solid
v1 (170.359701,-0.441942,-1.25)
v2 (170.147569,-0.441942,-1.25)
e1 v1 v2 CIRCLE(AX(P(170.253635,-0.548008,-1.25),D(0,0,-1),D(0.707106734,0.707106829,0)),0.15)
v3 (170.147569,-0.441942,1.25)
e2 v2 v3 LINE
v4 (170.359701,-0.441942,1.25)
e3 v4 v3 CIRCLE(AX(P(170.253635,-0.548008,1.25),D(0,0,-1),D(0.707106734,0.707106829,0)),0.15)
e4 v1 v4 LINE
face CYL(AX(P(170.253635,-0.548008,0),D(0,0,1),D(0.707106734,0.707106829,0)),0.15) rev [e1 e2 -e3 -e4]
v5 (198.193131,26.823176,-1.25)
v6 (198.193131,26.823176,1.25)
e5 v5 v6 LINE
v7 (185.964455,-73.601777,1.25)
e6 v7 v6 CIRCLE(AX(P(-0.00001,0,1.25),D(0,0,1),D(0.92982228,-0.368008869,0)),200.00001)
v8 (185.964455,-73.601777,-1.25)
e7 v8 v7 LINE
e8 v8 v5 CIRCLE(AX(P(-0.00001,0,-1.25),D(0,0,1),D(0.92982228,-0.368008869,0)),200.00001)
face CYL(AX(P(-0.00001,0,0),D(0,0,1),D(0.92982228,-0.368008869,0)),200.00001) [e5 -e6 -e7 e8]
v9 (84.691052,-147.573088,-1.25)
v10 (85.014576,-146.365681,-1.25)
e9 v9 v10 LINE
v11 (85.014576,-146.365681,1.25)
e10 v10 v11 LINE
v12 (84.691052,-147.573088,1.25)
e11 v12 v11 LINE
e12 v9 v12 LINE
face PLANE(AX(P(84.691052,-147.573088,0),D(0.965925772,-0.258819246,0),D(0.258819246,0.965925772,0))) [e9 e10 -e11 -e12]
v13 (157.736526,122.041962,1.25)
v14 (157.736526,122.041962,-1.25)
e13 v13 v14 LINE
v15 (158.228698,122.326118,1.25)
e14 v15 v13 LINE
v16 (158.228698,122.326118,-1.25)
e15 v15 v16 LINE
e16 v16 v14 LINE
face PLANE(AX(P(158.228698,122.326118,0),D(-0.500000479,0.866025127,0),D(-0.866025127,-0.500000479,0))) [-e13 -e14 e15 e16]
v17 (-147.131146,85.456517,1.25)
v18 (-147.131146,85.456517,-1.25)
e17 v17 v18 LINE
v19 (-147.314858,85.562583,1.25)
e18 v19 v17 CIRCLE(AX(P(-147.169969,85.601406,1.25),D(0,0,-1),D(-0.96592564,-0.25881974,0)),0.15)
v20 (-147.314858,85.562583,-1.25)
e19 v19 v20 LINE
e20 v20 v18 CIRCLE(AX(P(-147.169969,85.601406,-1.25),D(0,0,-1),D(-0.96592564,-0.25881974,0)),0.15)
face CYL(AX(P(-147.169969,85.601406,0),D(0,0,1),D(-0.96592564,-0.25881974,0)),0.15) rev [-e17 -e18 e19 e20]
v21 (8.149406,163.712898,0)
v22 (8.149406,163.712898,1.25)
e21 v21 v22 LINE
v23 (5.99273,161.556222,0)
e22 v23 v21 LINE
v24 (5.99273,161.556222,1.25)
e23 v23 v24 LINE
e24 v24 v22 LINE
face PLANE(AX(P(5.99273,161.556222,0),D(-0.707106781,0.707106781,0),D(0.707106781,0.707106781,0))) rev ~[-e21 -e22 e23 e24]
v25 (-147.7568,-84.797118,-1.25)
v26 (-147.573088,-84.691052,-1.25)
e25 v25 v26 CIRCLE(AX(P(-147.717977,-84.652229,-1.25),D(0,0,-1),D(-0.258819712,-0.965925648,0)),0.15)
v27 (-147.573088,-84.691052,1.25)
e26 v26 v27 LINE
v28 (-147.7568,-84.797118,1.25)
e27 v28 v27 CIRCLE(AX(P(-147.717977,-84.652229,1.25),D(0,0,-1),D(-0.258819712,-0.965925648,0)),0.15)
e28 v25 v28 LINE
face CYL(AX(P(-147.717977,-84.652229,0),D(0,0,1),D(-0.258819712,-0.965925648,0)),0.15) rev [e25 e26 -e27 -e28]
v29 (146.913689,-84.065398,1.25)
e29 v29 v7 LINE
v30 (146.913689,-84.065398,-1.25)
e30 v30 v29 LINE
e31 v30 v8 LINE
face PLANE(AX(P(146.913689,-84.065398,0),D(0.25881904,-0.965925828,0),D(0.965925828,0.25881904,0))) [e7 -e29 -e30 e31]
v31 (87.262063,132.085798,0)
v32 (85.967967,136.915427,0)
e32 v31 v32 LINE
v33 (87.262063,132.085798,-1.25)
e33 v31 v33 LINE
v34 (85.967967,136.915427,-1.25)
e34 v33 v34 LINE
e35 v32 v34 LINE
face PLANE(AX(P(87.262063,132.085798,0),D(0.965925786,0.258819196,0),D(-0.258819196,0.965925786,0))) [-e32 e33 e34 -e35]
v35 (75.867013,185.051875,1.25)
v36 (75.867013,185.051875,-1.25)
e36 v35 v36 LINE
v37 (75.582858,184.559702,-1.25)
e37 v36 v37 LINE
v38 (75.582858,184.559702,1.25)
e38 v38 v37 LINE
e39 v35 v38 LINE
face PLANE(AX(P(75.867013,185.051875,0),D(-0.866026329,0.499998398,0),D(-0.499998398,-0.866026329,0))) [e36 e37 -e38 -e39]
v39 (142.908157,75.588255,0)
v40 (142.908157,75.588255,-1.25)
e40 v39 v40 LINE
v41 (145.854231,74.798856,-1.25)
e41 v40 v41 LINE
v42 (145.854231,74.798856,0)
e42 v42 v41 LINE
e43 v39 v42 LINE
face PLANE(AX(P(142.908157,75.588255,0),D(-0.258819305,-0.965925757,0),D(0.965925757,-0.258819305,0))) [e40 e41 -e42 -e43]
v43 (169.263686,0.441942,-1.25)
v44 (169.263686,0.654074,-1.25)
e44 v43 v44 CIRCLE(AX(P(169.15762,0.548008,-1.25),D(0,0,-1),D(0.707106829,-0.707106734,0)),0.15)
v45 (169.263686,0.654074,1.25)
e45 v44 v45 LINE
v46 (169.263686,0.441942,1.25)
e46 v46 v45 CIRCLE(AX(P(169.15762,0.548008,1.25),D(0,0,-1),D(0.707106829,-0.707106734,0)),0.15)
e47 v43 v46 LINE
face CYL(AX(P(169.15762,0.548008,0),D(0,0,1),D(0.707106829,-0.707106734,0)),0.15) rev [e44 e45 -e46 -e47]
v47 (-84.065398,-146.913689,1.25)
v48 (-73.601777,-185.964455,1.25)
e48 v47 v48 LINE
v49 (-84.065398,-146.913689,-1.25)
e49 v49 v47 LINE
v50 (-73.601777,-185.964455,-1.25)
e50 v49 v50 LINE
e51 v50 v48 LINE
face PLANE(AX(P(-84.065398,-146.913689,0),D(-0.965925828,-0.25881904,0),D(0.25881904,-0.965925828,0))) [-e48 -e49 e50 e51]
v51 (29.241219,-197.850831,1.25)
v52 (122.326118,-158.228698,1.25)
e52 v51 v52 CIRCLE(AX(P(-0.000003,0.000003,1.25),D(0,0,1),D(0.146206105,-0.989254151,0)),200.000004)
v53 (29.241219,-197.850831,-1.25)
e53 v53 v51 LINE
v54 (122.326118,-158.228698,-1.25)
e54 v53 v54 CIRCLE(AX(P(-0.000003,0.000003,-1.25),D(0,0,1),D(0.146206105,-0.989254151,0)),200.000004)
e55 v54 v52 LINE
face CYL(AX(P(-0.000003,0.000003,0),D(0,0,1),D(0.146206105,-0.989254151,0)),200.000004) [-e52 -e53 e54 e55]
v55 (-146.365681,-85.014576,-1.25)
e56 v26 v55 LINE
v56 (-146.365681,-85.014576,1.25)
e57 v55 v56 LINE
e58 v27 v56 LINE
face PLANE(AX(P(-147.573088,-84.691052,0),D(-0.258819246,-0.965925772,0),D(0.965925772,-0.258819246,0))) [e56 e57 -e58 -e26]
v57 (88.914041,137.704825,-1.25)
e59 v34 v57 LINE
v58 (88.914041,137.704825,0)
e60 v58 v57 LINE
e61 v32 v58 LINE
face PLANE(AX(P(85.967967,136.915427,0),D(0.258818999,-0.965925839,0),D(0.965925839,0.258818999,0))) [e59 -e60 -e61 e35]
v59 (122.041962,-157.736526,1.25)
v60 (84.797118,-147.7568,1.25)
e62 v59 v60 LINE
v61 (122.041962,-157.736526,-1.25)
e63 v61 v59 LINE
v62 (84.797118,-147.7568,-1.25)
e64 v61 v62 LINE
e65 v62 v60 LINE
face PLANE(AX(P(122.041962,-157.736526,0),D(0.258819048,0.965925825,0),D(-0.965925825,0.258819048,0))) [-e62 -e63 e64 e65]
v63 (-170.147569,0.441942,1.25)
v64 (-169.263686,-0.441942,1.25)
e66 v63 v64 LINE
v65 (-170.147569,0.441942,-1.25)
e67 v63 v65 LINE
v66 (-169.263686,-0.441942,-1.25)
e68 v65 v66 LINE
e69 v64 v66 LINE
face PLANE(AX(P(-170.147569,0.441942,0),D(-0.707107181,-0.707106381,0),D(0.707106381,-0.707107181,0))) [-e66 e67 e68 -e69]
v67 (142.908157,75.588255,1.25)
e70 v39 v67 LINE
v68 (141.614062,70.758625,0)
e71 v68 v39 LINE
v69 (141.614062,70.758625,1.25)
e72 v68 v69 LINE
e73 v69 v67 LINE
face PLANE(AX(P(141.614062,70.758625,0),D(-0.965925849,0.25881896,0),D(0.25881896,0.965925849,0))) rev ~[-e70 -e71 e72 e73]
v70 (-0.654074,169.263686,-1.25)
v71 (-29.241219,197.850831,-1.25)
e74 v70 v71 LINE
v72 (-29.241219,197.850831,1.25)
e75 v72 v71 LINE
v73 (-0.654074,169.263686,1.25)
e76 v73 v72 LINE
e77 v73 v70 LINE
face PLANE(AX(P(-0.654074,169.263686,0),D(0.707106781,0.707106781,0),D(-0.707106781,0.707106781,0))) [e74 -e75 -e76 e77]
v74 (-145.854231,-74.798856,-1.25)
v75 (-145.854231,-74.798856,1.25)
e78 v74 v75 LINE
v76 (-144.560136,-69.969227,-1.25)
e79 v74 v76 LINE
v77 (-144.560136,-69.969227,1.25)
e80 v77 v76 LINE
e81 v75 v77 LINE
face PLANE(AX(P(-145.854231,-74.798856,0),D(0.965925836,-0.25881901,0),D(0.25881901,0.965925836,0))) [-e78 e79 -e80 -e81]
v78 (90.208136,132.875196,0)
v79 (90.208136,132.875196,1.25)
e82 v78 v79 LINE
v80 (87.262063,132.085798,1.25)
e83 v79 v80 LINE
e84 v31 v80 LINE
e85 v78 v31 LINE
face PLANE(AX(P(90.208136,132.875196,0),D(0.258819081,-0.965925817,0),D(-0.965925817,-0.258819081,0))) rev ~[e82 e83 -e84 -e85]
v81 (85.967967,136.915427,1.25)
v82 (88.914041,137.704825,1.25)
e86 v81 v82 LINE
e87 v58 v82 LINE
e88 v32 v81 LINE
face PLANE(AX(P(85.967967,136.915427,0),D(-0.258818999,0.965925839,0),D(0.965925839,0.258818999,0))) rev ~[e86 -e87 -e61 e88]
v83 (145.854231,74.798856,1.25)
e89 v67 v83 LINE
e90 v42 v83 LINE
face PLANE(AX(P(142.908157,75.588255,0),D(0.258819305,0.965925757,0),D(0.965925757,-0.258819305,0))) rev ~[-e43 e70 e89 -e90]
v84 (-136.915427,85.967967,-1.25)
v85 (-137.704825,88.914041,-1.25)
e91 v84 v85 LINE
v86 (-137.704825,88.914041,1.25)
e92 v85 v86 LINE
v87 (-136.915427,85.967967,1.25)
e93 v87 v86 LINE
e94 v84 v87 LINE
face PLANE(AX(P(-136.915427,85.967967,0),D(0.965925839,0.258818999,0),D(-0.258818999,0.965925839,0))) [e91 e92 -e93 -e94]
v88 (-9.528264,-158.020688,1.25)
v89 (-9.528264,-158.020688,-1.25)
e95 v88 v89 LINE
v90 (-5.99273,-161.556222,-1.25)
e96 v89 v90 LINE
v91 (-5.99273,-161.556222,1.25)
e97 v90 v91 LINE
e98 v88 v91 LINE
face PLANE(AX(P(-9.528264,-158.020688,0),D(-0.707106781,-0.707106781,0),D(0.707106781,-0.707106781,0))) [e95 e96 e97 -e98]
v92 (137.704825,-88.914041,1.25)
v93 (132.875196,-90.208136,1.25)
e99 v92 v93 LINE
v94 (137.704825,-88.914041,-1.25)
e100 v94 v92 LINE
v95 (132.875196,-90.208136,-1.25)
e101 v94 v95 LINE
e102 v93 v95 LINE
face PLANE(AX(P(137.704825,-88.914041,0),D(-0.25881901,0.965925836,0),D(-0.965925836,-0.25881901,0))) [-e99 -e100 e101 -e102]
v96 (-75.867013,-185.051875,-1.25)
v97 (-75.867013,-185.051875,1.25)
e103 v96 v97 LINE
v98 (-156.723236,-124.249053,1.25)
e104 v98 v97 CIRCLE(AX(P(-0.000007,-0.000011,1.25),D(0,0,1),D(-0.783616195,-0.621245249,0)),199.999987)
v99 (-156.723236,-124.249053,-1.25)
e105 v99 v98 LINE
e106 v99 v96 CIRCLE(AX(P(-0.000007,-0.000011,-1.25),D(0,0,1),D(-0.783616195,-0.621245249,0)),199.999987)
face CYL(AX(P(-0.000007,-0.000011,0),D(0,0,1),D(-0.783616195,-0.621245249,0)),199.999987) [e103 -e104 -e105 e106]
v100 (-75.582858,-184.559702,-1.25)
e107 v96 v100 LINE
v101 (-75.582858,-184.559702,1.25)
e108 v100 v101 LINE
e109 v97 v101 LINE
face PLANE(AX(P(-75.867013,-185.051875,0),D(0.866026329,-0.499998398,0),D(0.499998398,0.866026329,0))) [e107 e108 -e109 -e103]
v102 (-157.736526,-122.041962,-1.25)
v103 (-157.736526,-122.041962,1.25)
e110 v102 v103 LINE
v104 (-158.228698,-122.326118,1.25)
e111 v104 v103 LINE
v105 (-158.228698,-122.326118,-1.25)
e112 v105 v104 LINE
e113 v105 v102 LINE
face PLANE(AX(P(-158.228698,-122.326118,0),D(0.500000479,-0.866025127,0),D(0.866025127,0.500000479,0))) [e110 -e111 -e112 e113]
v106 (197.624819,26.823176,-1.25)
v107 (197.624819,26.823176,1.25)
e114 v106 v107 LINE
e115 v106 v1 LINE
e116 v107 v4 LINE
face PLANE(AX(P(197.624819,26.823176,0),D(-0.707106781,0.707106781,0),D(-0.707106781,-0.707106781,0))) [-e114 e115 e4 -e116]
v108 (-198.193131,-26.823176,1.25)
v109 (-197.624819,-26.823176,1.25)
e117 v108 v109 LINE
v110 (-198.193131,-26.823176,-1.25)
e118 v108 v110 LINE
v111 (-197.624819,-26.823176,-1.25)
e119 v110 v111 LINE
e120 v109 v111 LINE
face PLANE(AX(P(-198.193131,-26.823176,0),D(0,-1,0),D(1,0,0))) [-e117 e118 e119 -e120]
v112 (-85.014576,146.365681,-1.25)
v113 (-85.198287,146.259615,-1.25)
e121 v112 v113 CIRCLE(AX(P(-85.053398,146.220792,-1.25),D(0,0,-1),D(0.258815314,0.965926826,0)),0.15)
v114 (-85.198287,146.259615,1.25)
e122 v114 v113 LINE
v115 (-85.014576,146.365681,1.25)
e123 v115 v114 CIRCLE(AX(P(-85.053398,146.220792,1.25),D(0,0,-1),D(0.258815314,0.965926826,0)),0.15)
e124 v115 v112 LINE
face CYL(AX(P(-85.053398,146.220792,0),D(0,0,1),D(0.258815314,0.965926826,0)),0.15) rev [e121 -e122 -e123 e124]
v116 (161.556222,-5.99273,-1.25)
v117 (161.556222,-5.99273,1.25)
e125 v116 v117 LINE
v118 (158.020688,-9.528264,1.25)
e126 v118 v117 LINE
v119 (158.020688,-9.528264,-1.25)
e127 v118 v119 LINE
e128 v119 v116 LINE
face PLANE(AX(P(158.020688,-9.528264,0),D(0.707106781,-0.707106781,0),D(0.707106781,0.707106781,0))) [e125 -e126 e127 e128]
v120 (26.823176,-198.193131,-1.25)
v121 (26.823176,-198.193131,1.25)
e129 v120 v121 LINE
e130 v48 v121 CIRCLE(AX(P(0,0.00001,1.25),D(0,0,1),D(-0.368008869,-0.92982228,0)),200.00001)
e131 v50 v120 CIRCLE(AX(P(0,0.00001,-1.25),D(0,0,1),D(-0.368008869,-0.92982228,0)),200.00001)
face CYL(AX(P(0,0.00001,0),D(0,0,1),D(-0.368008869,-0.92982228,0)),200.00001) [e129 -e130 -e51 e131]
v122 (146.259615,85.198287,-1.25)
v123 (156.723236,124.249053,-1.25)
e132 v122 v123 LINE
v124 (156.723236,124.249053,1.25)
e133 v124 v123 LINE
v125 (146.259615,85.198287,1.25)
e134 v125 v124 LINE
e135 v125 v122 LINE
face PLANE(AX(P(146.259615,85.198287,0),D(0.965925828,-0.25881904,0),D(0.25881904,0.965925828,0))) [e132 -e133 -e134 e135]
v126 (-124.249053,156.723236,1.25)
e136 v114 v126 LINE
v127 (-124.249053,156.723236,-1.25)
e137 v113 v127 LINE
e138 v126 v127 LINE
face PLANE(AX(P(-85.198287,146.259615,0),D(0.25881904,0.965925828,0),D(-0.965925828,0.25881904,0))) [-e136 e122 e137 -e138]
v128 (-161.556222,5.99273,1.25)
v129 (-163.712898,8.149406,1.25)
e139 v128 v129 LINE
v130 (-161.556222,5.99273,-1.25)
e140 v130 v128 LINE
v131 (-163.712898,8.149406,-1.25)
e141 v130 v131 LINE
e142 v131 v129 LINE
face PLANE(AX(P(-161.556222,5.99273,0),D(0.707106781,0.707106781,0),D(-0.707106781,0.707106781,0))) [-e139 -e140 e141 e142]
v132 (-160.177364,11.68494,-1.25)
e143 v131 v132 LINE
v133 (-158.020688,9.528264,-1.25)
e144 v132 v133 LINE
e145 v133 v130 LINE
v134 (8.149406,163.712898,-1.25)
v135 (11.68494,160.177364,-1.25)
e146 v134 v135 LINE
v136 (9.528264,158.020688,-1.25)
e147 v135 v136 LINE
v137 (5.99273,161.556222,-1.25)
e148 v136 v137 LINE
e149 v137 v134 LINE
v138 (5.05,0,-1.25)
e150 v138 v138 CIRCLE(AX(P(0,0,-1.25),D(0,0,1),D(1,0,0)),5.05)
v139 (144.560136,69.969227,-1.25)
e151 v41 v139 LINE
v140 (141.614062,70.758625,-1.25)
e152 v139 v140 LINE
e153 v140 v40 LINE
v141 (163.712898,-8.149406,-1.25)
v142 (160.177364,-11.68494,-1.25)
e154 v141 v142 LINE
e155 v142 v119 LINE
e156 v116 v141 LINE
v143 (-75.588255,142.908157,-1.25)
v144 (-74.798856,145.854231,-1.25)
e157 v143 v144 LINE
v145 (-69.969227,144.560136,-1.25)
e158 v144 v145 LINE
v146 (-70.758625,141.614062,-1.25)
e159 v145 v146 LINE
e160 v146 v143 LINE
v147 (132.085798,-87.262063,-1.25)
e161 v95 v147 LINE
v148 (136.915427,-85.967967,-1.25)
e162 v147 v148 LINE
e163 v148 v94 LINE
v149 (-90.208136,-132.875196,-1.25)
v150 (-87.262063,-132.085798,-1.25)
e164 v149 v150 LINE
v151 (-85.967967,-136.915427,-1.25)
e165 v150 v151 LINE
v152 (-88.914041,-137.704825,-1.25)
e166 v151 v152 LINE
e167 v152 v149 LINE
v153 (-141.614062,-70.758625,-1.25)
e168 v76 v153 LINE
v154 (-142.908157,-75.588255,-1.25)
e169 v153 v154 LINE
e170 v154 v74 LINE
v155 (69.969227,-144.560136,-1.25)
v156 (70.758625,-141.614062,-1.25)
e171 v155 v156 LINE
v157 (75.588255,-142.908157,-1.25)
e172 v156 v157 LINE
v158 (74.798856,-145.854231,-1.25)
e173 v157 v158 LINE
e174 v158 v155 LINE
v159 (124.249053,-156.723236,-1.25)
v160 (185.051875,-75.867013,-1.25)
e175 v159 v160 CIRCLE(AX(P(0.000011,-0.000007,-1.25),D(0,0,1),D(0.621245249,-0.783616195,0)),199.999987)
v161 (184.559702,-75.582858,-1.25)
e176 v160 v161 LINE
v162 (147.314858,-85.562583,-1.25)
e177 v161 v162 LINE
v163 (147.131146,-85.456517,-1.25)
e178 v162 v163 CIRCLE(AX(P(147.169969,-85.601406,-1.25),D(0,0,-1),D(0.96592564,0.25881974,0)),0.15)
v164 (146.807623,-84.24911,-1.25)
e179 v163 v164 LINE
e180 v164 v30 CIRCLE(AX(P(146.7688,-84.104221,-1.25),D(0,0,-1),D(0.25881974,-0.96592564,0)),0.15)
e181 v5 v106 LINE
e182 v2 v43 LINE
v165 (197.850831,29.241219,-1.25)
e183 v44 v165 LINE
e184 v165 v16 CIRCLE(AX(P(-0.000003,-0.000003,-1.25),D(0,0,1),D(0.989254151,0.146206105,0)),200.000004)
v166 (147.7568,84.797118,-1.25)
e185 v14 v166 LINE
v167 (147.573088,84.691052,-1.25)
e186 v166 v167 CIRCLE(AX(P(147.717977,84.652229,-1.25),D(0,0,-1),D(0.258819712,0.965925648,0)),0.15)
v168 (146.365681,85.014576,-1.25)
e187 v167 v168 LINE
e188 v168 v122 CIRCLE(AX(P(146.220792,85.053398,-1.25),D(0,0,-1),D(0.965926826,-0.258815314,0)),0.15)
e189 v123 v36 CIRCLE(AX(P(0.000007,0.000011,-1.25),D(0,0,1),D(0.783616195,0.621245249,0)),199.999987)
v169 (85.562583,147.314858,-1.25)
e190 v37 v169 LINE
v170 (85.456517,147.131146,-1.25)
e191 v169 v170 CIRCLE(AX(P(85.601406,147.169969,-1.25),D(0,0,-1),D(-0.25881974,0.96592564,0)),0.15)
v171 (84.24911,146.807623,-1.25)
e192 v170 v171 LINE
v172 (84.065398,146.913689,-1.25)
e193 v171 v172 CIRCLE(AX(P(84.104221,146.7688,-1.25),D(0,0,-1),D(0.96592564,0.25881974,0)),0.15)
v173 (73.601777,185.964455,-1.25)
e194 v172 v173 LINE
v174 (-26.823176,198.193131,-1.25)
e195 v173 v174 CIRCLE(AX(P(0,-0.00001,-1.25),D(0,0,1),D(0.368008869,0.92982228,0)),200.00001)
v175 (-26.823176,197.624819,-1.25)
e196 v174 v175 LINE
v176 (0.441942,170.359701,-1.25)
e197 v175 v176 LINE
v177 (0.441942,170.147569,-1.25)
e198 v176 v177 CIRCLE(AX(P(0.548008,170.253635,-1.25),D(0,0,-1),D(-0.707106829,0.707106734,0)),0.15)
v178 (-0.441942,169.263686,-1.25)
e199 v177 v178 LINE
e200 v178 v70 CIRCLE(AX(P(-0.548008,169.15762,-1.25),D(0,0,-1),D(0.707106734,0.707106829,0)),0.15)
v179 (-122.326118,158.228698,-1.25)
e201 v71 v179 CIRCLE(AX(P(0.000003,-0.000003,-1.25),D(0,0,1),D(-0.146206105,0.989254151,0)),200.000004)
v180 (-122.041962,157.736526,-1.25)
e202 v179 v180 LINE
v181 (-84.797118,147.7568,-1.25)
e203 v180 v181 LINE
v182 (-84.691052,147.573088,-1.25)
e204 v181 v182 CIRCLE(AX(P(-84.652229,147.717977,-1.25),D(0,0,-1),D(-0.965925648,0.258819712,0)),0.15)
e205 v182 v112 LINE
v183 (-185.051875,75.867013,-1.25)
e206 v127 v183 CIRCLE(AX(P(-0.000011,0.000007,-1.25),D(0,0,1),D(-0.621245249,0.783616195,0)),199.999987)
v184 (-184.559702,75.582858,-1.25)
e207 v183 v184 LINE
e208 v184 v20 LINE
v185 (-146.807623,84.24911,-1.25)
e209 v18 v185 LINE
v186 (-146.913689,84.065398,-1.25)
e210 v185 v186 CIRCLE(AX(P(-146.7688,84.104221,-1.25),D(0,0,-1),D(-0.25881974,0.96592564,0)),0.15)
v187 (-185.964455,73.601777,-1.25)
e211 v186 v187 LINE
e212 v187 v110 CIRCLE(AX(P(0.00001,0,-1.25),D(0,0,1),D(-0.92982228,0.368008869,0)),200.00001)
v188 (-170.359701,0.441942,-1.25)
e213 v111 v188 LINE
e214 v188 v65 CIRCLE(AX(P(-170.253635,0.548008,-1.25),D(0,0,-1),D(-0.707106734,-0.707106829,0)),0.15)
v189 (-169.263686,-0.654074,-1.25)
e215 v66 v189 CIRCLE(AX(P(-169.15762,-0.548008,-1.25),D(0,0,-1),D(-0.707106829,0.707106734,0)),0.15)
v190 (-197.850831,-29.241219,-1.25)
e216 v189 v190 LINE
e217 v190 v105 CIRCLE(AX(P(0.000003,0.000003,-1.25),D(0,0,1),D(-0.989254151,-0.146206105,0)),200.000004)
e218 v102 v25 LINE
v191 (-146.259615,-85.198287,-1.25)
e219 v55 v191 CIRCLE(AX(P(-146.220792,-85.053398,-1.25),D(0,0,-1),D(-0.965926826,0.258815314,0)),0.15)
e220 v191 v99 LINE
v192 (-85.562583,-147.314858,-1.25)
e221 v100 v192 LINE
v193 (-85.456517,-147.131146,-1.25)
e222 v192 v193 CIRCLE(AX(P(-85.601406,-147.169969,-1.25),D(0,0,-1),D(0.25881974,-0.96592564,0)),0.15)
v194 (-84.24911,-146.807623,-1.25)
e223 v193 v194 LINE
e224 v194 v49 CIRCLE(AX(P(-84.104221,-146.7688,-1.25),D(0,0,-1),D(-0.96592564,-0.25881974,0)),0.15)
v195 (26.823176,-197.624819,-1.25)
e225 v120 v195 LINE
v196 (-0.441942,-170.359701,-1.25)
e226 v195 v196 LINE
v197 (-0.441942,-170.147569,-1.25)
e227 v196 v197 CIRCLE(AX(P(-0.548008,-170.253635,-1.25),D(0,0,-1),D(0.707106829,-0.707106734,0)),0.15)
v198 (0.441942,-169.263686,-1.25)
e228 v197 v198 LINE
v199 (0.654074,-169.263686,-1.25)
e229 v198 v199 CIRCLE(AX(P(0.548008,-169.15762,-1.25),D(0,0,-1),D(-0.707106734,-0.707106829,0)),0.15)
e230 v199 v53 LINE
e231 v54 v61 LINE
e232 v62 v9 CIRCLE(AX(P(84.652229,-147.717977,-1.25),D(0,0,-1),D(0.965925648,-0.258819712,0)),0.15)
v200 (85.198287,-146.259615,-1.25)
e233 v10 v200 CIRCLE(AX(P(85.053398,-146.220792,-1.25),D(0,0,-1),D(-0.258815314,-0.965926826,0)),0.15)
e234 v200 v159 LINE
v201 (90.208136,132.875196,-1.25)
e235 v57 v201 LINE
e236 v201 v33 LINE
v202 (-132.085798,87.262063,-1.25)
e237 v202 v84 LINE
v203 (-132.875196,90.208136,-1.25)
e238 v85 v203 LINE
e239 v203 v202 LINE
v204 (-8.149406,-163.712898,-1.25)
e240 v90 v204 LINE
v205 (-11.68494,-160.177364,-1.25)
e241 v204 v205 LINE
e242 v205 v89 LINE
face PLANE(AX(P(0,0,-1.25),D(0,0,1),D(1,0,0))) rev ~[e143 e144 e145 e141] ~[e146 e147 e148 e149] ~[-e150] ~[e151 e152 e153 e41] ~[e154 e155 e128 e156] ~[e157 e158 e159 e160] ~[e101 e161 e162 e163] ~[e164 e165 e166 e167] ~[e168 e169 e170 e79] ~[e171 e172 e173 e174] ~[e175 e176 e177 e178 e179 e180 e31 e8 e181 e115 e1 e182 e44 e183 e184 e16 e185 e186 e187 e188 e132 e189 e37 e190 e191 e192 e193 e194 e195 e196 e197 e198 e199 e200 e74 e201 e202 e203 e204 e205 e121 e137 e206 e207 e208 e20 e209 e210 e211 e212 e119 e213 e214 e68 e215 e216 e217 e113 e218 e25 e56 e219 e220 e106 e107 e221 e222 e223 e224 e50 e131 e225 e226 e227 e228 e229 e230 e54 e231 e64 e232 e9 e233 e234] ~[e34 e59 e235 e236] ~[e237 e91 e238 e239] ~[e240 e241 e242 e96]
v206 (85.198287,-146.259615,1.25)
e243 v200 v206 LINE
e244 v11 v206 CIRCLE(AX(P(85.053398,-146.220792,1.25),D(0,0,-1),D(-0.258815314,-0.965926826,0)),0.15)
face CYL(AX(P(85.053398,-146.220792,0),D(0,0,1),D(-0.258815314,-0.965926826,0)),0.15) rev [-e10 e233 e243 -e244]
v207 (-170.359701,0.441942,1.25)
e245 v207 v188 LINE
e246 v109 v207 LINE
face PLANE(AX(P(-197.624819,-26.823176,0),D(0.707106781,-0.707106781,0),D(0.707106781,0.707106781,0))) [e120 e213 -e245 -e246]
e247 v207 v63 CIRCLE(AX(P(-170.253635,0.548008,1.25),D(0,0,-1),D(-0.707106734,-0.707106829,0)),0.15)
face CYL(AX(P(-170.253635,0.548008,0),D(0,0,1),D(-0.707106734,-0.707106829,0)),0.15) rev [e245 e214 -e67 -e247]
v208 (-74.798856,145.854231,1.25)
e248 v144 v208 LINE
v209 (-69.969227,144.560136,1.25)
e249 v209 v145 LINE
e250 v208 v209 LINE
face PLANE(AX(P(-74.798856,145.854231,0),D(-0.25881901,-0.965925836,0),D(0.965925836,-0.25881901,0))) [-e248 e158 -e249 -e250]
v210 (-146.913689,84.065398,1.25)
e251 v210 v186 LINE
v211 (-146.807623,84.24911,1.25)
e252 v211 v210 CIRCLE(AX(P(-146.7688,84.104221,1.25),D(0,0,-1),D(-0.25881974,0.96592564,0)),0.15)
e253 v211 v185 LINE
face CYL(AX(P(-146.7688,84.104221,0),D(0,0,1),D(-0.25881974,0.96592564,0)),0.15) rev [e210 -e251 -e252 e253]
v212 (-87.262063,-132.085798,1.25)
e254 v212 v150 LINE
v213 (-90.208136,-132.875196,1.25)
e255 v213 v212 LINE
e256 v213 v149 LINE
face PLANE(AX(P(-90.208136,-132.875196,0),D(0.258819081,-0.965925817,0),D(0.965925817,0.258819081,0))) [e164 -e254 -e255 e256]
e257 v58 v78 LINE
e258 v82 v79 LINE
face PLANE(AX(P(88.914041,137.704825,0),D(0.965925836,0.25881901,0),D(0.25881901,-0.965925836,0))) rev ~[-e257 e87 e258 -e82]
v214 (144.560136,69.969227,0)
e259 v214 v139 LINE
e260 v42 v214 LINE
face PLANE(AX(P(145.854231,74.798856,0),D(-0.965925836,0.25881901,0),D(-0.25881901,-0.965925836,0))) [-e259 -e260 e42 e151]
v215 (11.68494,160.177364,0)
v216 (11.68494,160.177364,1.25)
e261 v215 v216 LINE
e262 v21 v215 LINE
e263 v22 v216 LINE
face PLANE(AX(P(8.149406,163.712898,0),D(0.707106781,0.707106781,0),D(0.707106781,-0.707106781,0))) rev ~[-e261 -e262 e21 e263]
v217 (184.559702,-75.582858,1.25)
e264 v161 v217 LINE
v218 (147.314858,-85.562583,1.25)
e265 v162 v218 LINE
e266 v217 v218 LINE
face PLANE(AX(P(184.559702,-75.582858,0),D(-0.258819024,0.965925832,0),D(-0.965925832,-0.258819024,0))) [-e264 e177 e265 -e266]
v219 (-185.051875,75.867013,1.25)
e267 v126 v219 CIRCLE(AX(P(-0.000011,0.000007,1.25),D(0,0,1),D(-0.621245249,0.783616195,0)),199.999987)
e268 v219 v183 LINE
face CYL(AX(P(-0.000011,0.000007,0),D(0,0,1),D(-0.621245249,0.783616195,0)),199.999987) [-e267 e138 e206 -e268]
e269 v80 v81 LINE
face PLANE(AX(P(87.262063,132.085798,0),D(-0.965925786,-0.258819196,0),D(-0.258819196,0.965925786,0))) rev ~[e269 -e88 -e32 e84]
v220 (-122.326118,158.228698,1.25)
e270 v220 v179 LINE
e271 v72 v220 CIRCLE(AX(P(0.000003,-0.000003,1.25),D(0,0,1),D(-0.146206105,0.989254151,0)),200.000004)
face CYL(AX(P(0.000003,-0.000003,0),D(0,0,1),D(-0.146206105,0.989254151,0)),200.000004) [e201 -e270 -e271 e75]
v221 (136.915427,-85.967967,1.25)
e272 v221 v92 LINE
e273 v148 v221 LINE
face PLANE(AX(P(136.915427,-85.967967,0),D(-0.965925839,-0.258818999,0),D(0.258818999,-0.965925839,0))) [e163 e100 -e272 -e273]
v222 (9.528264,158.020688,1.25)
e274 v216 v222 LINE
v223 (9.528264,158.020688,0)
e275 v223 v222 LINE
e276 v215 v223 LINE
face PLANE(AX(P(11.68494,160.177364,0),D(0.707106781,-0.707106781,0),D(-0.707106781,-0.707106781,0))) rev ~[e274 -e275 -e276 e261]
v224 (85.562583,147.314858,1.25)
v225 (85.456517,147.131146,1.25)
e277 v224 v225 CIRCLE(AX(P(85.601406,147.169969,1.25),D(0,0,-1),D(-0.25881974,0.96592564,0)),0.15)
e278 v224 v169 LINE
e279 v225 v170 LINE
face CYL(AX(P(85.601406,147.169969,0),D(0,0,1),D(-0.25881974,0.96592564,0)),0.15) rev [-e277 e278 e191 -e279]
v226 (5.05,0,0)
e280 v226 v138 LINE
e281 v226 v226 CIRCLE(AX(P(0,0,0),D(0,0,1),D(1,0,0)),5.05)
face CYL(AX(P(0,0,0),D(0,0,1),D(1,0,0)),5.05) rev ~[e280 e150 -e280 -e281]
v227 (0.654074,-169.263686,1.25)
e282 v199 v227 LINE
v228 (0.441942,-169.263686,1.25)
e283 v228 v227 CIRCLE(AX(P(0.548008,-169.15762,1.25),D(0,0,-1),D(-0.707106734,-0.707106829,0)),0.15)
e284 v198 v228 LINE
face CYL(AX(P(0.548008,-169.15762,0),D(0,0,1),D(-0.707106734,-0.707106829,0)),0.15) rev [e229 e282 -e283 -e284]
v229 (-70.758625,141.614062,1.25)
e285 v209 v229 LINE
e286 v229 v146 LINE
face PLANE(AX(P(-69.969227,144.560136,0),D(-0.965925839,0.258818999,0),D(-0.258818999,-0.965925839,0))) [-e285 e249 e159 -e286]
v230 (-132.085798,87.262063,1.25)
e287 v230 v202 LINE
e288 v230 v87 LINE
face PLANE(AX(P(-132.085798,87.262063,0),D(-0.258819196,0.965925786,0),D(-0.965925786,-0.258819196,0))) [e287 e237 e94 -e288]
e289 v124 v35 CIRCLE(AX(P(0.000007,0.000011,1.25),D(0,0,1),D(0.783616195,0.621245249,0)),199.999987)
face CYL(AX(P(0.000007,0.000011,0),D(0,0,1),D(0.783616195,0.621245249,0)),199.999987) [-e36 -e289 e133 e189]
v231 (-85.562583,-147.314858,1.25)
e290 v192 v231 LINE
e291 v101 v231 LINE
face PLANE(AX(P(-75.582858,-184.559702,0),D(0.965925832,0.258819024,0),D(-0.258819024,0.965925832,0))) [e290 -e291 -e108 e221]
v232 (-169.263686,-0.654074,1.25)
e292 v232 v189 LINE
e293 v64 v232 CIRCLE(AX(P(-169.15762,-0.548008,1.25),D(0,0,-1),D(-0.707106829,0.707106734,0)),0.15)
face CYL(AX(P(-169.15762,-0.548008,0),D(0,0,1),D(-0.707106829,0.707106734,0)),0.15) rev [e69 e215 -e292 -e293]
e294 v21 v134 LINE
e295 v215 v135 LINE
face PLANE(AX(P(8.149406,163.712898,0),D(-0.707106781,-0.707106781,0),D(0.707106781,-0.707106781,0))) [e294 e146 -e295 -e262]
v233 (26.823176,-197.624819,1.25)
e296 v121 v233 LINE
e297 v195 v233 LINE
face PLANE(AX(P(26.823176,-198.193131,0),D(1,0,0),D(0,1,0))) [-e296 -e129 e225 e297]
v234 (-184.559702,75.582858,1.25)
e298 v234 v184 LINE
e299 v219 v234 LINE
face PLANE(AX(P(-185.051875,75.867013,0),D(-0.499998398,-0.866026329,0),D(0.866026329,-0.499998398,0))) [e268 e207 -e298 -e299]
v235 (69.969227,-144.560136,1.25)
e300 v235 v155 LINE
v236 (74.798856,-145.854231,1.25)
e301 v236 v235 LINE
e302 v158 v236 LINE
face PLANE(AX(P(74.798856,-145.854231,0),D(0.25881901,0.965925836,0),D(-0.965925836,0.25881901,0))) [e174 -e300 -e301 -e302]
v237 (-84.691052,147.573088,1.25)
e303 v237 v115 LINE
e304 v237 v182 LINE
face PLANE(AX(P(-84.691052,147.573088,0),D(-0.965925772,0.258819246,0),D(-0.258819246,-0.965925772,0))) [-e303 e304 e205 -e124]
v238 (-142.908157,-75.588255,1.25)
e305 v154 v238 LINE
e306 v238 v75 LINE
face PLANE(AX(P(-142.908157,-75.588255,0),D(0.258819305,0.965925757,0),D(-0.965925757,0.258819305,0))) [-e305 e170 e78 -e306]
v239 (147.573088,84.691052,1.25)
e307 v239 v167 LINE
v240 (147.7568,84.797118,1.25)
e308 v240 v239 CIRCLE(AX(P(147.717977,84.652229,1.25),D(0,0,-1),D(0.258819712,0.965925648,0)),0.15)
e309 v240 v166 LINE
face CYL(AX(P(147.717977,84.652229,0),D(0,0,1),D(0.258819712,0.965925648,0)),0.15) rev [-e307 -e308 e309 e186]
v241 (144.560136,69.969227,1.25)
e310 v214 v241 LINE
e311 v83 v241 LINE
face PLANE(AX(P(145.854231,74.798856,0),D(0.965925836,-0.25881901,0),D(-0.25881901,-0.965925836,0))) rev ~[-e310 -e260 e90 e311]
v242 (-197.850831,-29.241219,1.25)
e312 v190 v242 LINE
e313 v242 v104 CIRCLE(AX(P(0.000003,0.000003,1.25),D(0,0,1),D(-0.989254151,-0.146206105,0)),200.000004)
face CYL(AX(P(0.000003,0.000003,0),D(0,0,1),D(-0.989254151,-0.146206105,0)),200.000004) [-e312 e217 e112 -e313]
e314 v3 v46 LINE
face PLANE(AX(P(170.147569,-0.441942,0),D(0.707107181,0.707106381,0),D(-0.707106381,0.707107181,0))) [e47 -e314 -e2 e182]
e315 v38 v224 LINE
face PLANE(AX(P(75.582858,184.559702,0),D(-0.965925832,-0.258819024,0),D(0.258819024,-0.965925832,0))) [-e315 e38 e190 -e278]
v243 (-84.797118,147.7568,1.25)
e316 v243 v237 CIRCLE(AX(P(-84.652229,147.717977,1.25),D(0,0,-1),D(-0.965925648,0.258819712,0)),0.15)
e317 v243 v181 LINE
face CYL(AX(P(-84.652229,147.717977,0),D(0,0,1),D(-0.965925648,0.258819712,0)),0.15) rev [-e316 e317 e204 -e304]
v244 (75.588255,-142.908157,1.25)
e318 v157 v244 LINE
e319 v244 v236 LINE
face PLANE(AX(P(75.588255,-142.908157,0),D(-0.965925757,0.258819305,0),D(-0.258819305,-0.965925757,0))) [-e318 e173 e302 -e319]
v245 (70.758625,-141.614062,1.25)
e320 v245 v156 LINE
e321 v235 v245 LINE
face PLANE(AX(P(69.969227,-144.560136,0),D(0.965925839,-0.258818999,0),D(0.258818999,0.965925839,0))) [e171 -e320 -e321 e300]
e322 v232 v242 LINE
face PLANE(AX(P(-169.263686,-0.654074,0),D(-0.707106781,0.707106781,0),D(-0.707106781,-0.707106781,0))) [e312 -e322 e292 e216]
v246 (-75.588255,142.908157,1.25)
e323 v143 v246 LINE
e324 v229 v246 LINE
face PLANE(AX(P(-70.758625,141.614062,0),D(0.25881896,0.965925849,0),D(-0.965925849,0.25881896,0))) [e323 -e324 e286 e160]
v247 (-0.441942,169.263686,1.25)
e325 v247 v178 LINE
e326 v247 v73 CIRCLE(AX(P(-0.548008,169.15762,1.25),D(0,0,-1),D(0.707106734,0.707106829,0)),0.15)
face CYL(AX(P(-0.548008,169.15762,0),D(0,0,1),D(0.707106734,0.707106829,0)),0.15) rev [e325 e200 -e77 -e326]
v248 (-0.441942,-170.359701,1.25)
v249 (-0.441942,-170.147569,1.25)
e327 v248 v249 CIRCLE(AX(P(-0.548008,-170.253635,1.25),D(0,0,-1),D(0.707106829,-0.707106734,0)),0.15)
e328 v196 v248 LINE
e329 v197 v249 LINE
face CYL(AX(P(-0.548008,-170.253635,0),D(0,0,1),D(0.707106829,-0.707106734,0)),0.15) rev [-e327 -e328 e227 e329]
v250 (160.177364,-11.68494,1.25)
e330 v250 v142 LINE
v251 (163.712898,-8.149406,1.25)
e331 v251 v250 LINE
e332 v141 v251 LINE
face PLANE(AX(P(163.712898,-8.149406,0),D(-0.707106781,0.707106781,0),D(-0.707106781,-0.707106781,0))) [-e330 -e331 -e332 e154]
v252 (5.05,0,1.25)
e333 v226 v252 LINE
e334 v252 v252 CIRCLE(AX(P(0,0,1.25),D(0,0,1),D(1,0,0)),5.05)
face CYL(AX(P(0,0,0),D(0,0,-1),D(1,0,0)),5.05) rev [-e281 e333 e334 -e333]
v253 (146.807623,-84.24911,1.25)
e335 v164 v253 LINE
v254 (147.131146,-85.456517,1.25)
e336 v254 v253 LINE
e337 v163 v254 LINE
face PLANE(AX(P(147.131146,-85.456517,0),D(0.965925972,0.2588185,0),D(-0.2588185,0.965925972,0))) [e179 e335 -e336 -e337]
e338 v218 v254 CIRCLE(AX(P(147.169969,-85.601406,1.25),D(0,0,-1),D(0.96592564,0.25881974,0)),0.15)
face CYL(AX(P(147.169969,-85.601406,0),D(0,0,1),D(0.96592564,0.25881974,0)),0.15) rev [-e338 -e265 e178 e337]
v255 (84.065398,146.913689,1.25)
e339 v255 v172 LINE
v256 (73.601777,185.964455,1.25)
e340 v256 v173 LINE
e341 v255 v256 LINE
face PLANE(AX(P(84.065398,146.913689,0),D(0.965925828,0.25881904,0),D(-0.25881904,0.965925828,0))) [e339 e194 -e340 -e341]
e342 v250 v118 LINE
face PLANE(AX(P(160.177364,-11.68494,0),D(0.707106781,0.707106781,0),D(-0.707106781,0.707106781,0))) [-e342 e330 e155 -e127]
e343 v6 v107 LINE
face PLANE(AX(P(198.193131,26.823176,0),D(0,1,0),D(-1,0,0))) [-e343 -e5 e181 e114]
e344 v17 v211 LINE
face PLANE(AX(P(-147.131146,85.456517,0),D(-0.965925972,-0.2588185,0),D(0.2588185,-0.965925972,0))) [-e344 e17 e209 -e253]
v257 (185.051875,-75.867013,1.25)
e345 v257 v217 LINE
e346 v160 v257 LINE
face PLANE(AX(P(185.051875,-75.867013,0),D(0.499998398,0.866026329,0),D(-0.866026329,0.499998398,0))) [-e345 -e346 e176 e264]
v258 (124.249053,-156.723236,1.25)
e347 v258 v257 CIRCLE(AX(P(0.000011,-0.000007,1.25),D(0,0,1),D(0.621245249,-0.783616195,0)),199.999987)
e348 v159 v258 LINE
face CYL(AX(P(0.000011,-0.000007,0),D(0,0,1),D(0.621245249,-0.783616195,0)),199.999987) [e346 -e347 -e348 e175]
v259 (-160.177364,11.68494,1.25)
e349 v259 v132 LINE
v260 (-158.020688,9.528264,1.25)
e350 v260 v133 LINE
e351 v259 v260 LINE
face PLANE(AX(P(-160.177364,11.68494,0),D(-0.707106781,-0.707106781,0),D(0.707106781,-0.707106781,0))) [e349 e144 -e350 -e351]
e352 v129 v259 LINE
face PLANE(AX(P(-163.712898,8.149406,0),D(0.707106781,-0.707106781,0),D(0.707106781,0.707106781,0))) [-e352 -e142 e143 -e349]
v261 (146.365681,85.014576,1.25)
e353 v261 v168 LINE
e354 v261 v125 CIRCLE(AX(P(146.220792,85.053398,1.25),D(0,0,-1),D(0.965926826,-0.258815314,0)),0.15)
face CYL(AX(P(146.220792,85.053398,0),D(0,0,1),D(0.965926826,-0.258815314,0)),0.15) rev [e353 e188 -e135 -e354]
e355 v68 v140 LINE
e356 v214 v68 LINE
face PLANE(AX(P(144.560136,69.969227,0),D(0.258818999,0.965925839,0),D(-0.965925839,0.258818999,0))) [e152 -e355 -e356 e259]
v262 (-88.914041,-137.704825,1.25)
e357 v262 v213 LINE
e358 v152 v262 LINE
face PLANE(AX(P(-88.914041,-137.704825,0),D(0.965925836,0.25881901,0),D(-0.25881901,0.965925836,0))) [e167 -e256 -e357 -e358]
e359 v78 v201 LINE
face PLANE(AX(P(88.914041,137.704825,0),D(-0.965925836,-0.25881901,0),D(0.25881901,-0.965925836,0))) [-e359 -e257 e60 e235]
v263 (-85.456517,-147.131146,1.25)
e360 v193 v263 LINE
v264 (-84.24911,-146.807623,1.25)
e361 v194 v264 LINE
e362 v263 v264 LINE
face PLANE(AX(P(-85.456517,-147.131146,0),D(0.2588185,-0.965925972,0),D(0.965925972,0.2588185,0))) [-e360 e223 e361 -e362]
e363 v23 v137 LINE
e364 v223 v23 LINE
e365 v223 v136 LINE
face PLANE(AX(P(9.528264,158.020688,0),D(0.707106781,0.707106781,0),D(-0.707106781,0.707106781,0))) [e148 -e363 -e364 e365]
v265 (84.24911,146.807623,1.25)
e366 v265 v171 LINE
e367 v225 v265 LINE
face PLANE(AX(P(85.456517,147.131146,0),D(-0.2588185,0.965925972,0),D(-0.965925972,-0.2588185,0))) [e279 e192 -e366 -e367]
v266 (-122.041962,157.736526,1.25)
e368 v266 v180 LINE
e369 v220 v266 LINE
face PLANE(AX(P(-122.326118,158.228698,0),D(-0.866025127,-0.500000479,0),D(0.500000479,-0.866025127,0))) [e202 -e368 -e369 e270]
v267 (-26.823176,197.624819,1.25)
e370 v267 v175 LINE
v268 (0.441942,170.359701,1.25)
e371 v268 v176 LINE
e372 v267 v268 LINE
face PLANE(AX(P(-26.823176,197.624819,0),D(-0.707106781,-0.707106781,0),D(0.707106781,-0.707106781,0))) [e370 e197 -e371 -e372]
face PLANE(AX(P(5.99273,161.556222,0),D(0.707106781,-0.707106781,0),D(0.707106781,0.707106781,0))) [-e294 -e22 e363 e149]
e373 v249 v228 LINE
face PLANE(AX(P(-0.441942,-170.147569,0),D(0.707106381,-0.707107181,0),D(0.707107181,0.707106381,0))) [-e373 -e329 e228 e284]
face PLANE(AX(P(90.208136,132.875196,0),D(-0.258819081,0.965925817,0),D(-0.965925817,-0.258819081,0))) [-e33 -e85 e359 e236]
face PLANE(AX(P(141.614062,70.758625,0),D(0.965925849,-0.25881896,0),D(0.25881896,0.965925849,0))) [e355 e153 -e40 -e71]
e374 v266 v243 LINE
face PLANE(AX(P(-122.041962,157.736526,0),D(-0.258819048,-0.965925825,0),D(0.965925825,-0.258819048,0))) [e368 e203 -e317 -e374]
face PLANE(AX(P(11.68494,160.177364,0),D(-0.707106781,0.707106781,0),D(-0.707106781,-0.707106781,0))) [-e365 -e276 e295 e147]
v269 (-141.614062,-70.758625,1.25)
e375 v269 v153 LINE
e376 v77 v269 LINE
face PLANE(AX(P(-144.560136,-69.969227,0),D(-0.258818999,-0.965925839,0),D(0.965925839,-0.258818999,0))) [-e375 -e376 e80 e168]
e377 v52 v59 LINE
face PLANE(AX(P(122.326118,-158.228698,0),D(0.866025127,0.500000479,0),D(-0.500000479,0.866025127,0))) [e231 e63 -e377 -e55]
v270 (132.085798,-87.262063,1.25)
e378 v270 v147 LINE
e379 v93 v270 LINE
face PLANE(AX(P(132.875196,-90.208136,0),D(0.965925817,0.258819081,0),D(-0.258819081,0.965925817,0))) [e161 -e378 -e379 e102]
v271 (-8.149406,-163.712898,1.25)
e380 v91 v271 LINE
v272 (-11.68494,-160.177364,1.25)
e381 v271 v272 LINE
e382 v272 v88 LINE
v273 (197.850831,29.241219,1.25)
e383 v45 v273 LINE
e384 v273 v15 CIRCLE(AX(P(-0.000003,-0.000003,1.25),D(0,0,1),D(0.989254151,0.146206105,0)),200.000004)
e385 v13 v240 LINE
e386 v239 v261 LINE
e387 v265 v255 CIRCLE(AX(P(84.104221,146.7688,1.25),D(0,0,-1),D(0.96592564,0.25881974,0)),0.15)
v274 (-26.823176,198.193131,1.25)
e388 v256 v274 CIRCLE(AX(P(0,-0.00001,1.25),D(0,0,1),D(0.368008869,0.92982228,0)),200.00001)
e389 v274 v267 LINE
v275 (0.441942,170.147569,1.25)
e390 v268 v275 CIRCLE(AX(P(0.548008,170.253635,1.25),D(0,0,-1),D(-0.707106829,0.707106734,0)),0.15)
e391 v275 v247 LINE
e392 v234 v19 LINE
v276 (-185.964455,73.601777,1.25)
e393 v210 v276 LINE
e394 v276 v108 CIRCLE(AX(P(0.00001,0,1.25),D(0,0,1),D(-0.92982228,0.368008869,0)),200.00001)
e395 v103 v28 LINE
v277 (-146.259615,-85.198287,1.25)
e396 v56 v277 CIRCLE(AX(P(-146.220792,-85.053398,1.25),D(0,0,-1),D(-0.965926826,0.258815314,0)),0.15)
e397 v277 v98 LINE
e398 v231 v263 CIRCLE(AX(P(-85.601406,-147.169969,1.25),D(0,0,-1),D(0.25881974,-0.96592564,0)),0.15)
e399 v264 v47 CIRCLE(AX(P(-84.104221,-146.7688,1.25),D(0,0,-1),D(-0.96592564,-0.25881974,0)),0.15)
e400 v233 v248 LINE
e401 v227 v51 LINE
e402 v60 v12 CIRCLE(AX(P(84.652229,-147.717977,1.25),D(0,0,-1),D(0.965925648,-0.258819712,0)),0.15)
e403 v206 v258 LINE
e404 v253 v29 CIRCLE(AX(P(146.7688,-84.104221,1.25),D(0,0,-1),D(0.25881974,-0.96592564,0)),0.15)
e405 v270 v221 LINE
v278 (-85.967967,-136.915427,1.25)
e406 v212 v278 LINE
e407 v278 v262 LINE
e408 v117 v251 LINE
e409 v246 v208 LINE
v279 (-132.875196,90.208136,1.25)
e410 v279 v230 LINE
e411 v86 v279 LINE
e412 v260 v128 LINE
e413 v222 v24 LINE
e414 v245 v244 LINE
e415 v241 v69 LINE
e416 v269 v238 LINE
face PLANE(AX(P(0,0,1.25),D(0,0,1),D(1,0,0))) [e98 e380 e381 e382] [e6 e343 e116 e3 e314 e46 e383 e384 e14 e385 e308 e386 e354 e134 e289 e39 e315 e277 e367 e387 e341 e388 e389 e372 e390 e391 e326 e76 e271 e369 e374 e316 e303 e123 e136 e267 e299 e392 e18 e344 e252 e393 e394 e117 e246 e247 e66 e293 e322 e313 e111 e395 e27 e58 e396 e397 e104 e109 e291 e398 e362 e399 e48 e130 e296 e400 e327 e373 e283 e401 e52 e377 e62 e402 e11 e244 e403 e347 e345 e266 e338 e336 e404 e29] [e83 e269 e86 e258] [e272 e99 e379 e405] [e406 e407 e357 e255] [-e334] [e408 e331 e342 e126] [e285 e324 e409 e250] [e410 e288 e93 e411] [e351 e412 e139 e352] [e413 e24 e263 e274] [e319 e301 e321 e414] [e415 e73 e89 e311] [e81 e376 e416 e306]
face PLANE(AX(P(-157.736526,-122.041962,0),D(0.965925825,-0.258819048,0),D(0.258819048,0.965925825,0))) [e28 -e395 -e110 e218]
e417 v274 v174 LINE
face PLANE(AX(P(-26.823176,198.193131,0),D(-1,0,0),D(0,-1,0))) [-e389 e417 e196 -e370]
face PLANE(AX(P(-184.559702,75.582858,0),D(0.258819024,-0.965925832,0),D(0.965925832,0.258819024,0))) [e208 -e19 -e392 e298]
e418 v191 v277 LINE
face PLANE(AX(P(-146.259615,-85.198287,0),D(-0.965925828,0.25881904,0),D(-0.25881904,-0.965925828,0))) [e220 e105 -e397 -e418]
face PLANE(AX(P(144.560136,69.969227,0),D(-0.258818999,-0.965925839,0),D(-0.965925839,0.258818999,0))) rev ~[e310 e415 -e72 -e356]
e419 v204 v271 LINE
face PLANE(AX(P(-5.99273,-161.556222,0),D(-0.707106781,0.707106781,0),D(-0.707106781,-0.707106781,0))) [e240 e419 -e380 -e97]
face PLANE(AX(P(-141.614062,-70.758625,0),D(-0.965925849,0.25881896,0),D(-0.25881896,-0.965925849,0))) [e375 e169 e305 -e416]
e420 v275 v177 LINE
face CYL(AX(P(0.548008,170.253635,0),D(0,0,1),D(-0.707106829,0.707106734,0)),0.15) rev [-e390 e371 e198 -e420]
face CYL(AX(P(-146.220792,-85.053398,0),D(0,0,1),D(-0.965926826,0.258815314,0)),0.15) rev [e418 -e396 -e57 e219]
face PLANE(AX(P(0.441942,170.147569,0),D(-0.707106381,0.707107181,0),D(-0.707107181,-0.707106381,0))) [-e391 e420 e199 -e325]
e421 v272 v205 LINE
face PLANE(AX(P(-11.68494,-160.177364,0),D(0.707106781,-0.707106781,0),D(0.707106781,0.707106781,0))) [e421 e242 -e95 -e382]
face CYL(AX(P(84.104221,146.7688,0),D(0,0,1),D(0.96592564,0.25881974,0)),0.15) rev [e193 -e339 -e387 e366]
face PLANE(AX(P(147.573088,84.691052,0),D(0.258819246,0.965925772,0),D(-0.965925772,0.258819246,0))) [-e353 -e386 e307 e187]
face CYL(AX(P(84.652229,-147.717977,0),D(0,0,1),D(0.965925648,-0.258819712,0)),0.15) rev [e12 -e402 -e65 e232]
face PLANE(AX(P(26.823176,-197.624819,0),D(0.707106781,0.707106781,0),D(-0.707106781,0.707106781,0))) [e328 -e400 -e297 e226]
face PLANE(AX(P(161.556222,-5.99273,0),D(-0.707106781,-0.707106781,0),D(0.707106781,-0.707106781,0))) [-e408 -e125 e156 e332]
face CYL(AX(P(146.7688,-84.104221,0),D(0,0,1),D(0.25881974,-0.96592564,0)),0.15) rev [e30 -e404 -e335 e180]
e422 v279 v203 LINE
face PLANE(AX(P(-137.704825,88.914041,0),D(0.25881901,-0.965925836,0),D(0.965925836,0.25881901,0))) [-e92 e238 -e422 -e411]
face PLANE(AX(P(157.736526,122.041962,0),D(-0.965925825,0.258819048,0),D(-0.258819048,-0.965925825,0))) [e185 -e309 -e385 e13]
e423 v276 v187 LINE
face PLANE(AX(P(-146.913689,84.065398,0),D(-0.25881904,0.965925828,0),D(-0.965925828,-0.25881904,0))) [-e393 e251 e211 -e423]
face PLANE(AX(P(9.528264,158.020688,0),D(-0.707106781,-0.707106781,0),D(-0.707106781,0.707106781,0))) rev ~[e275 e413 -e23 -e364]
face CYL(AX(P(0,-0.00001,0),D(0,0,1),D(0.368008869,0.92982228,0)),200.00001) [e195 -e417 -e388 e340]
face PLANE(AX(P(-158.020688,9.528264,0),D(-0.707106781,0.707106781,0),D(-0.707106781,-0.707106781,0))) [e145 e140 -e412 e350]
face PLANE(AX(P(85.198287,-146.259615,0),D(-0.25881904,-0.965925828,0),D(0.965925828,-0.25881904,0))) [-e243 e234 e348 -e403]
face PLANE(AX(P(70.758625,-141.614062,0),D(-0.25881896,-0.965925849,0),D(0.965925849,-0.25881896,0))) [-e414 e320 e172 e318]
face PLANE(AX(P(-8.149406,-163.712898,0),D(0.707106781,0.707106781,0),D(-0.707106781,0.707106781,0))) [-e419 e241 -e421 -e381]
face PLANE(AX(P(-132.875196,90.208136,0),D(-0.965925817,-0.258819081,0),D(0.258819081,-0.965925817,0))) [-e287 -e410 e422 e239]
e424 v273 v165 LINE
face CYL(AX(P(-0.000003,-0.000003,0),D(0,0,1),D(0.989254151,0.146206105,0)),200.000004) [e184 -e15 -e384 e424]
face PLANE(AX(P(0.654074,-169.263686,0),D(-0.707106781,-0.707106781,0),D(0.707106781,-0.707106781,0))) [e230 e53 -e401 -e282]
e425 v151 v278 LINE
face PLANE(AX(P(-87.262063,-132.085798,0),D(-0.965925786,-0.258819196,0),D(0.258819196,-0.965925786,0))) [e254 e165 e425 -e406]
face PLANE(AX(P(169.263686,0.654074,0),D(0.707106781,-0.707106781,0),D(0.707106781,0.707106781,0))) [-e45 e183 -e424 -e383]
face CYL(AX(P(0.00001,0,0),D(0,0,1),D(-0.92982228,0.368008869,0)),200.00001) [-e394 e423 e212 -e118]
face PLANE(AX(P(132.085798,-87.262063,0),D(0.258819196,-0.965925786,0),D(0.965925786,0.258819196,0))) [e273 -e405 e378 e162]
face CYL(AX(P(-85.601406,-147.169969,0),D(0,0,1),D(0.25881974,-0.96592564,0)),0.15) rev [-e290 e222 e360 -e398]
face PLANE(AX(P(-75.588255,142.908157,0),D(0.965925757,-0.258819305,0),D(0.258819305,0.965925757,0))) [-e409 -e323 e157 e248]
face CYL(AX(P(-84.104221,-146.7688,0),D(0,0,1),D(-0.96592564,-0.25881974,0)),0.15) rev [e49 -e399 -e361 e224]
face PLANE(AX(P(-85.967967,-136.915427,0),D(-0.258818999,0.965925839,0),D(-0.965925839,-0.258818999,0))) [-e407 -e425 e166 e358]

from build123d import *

# Parameters (mm, degrees)
F0_R          = 5.05
F1_DEPTH      = 1.25
F1_DEPTH_BACK = 1.25


with BuildPart() as f1:
    # F0 (on Top) → F1 (new body, two sides)
    with BuildSketch(Plane.XY) as f1_sk:
        with BuildLine():
            Line((-169.263686, -0.654074), (-197.850831, -29.241219))
            ThreePointArc((-197.850831, -29.241219), (-184.022709, -78.330343), (-158.228698, -122.326118))
            Line((-158.228698, -122.326118), (-157.736526, -122.041962))
            Line((-157.736526, -122.041962), (-147.7568, -84.797118))
            ThreePointArc((-147.7568, -84.797118), (-147.792977, -84.522325), (-147.573088, -84.691052))
            Line((-147.573088, -84.691052), (-146.365681, -85.014576))
            ThreePointArc((-146.365681, -85.014576), (-146.090888, -84.978399), (-146.259615, -85.198287))
            Line((-146.259615, -85.198287), (-156.723236, -124.249053))
            ThreePointArc((-156.723236, -124.249053), (-120.203169, -159.847422), (-75.867013, -185.051875))
            Line((-75.867013, -185.051875), (-75.582858, -184.559702))
            Line((-75.582858, -184.559702), (-85.562583, -147.314858))
            ThreePointArc((-85.562583, -147.314858), (-85.73131, -147.094969), (-85.456517, -147.131146))
            Line((-85.456517, -147.131146), (-84.24911, -146.807623))
            ThreePointArc((-84.24911, -146.807623), (-84.029221, -146.638896), (-84.065398, -146.913689))
            Line((-84.065398, -146.913689), (-73.601777, -185.964455))
            ThreePointArc((-73.601777, -185.964455), (-24.175287, -198.533512), (26.823176, -198.193131))
            Line((26.823176, -198.193131), (26.823176, -197.624819))
            Line((26.823176, -197.624819), (-0.441942, -170.359701))
            ThreePointArc((-0.441942, -170.359701), (-0.698008, -170.253635), (-0.441942, -170.147569))
            Line((-0.441942, -170.147569), (0.441942, -169.263686))
            ThreePointArc((0.441942, -169.263686), (0.548008, -169.00762), (0.654074, -169.263686))
            Line((0.654074, -169.263686), (29.241219, -197.850831))
            ThreePointArc((29.241219, -197.850831), (78.330343, -184.022709), (122.326118, -158.228698))
            Line((122.326118, -158.228698), (122.041962, -157.736526))
            Line((122.041962, -157.736526), (84.797118, -147.7568))
            ThreePointArc((84.797118, -147.7568), (84.522325, -147.792977), (84.691052, -147.573088))
            Line((84.691052, -147.573088), (85.014576, -146.365681))
            ThreePointArc((85.014576, -146.365681), (84.978399, -146.090888), (85.198287, -146.259615))
            Line((85.198287, -146.259615), (124.249053, -156.723236))
            ThreePointArc((124.249053, -156.723236), (159.847422, -120.203169), (185.051875, -75.867013))
            Line((185.051875, -75.867013), (184.559702, -75.582858))
            Line((184.559702, -75.582858), (147.314858, -85.562583))
            ThreePointArc((147.314858, -85.562583), (147.094969, -85.73131), (147.131146, -85.456517))
            Line((147.131146, -85.456517), (146.807623, -84.24911))
            ThreePointArc((146.807623, -84.24911), (146.638896, -84.029221), (146.913689, -84.065398))
            Line((146.913689, -84.065398), (185.964455, -73.601777))
            ThreePointArc((185.964455, -73.601777), (198.533512, -24.175287), (198.193131, 26.823176))
            Line((198.193131, 26.823176), (197.624819, 26.823176))
            Line((197.624819, 26.823176), (170.359701, -0.441942))
            ThreePointArc((170.359701, -0.441942), (170.253635, -0.698008), (170.147569, -0.441942))
            Line((170.147569, -0.441942), (169.263686, 0.441942))
            ThreePointArc((169.263686, 0.441942), (169.00762, 0.548008), (169.263686, 0.654074))
            Line((169.263686, 0.654074), (197.850831, 29.241219))
            ThreePointArc((197.850831, 29.241219), (184.022709, 78.330343), (158.228698, 122.326118))
            Line((158.228698, 122.326118), (157.736526, 122.041962))
            Line((157.736526, 122.041962), (147.7568, 84.797118))
            ThreePointArc((147.7568, 84.797118), (147.792977, 84.522325), (147.573088, 84.691052))
            Line((147.573088, 84.691052), (146.365681, 85.014576))
            ThreePointArc((146.365681, 85.014576), (146.090888, 84.978399), (146.259615, 85.198287))
            Line((146.259615, 85.198287), (156.723236, 124.249053))
            ThreePointArc((156.723236, 124.249053), (120.203169, 159.847422), (75.867013, 185.051875))
            Line((75.867013, 185.051875), (75.582858, 184.559702))
            Line((75.582858, 184.559702), (85.562583, 147.314858))
            ThreePointArc((85.562583, 147.314858), (85.73131, 147.094969), (85.456517, 147.131146))
            Line((85.456517, 147.131146), (84.24911, 146.807623))
            ThreePointArc((84.24911, 146.807623), (84.029221, 146.638896), (84.065398, 146.913689))
            Line((84.065398, 146.913689), (73.601777, 185.964455))
            ThreePointArc((73.601777, 185.964455), (24.175287, 198.533512), (-26.823176, 198.193131))
            Line((-26.823176, 198.193131), (-26.823176, 197.624819))
            Line((-26.823176, 197.624819), (0.441942, 170.359701))
            ThreePointArc((0.441942, 170.359701), (0.698008, 170.253635), (0.441942, 170.147569))
            Line((0.441942, 170.147569), (-0.441942, 169.263686))
            ThreePointArc((-0.441942, 169.263686), (-0.548008, 169.00762), (-0.654074, 169.263686))
            Line((-0.654074, 169.263686), (-29.241219, 197.850831))
            ThreePointArc((-29.241219, 197.850831), (-78.330343, 184.022709), (-122.326118, 158.228698))
            Line((-122.326118, 158.228698), (-122.041962, 157.736526))
            Line((-122.041962, 157.736526), (-84.797118, 147.7568))
            ThreePointArc((-84.797118, 147.7568), (-84.522325, 147.792977), (-84.691052, 147.573088))
            Line((-84.691052, 147.573088), (-85.014576, 146.365681))
            ThreePointArc((-85.014576, 146.365681), (-84.978399, 146.090888), (-85.198287, 146.259615))
            Line((-85.198287, 146.259615), (-124.249053, 156.723236))
            ThreePointArc((-124.249053, 156.723236), (-159.847422, 120.203169), (-185.051875, 75.867013))
            Line((-185.051875, 75.867013), (-184.559702, 75.582858))
            Line((-184.559702, 75.582858), (-147.314858, 85.562583))
            ThreePointArc((-147.314858, 85.562583), (-147.094969, 85.73131), (-147.131146, 85.456517))
            Line((-147.131146, 85.456517), (-146.807623, 84.24911))
            ThreePointArc((-146.807623, 84.24911), (-146.638896, 84.029221), (-146.913689, 84.065398))
            Line((-146.913689, 84.065398), (-185.964455, 73.601777))
            ThreePointArc((-185.964455, 73.601777), (-198.533512, 24.175287), (-198.193131, -26.823176))
            Line((-198.193131, -26.823176), (-197.624819, -26.823176))
            Line((-197.624819, -26.823176), (-170.359701, 0.441942))
            ThreePointArc((-170.359701, 0.441942), (-170.253635, 0.698008), (-170.147569, 0.441942))
            Line((-170.147569, 0.441942), (-169.263686, -0.441942))
            ThreePointArc((-169.263686, -0.441942), (-169.00762, -0.548008), (-169.263686, -0.654074))
        make_face()
        Polygon((-5.99273, -161.556222), (-8.149406, -163.712898), (-11.68494, -160.177364), (-9.528264, -158.020688), align=None, mode=Mode.SUBTRACT)
        Polygon((-85.967967, -136.915427), (-88.914041, -137.704825), (-90.208136, -132.875196), (-87.262063, -132.085798), align=None, mode=Mode.SUBTRACT)
        Polygon((-142.908157, -75.588255), (-145.854231, -74.798856), (-144.560136, -69.969227), (-141.614062, -70.758625), align=None, mode=Mode.SUBTRACT)
        Polygon((75.588255, -142.908157), (74.798856, -145.854231), (69.969227, -144.560136), (70.758625, -141.614062), align=None, mode=Mode.SUBTRACT)
        Circle(F0_R, mode=Mode.SUBTRACT)
        Polygon((136.915427, -85.967967), (137.704825, -88.914041), (132.875196, -90.208136), (132.085798, -87.262063), align=None, mode=Mode.SUBTRACT)
        Polygon((161.556222, -5.99273), (163.712898, -8.149406), (160.177364, -11.68494), (158.020688, -9.528264), align=None, mode=Mode.SUBTRACT)
        Polygon((-161.556222, 5.99273), (-163.712898, 8.149406), (-160.177364, 11.68494), (-158.020688, 9.528264), align=None, mode=Mode.SUBTRACT)
        Polygon((-136.915427, 85.967967), (-137.704825, 88.914041), (-132.875196, 90.208136), (-132.085798, 87.262063), align=None, mode=Mode.SUBTRACT)
        Polygon((-75.588255, 142.908157), (-74.798856, 145.854231), (-69.969227, 144.560136), (-70.758625, 141.614062), align=None, mode=Mode.SUBTRACT)
        Polygon((142.908157, 75.588255), (145.854231, 74.798856), (144.560136, 69.969227), (141.614062, 70.758625), align=None, mode=Mode.SUBTRACT)
        Polygon((85.967967, 136.915427), (88.914041, 137.704825), (90.208136, 132.875196), (87.262063, 132.085798), align=None, mode=Mode.SUBTRACT)
        Polygon((5.99273, 161.556222), (8.149406, 163.712898), (11.68494, 160.177364), (9.528264, 158.020688), align=None, mode=Mode.SUBTRACT)
    extrude(amount=F1_DEPTH)
    extrude(f1_sk.sketch, amount=-F1_DEPTH_BACK)


solid = f1.part
